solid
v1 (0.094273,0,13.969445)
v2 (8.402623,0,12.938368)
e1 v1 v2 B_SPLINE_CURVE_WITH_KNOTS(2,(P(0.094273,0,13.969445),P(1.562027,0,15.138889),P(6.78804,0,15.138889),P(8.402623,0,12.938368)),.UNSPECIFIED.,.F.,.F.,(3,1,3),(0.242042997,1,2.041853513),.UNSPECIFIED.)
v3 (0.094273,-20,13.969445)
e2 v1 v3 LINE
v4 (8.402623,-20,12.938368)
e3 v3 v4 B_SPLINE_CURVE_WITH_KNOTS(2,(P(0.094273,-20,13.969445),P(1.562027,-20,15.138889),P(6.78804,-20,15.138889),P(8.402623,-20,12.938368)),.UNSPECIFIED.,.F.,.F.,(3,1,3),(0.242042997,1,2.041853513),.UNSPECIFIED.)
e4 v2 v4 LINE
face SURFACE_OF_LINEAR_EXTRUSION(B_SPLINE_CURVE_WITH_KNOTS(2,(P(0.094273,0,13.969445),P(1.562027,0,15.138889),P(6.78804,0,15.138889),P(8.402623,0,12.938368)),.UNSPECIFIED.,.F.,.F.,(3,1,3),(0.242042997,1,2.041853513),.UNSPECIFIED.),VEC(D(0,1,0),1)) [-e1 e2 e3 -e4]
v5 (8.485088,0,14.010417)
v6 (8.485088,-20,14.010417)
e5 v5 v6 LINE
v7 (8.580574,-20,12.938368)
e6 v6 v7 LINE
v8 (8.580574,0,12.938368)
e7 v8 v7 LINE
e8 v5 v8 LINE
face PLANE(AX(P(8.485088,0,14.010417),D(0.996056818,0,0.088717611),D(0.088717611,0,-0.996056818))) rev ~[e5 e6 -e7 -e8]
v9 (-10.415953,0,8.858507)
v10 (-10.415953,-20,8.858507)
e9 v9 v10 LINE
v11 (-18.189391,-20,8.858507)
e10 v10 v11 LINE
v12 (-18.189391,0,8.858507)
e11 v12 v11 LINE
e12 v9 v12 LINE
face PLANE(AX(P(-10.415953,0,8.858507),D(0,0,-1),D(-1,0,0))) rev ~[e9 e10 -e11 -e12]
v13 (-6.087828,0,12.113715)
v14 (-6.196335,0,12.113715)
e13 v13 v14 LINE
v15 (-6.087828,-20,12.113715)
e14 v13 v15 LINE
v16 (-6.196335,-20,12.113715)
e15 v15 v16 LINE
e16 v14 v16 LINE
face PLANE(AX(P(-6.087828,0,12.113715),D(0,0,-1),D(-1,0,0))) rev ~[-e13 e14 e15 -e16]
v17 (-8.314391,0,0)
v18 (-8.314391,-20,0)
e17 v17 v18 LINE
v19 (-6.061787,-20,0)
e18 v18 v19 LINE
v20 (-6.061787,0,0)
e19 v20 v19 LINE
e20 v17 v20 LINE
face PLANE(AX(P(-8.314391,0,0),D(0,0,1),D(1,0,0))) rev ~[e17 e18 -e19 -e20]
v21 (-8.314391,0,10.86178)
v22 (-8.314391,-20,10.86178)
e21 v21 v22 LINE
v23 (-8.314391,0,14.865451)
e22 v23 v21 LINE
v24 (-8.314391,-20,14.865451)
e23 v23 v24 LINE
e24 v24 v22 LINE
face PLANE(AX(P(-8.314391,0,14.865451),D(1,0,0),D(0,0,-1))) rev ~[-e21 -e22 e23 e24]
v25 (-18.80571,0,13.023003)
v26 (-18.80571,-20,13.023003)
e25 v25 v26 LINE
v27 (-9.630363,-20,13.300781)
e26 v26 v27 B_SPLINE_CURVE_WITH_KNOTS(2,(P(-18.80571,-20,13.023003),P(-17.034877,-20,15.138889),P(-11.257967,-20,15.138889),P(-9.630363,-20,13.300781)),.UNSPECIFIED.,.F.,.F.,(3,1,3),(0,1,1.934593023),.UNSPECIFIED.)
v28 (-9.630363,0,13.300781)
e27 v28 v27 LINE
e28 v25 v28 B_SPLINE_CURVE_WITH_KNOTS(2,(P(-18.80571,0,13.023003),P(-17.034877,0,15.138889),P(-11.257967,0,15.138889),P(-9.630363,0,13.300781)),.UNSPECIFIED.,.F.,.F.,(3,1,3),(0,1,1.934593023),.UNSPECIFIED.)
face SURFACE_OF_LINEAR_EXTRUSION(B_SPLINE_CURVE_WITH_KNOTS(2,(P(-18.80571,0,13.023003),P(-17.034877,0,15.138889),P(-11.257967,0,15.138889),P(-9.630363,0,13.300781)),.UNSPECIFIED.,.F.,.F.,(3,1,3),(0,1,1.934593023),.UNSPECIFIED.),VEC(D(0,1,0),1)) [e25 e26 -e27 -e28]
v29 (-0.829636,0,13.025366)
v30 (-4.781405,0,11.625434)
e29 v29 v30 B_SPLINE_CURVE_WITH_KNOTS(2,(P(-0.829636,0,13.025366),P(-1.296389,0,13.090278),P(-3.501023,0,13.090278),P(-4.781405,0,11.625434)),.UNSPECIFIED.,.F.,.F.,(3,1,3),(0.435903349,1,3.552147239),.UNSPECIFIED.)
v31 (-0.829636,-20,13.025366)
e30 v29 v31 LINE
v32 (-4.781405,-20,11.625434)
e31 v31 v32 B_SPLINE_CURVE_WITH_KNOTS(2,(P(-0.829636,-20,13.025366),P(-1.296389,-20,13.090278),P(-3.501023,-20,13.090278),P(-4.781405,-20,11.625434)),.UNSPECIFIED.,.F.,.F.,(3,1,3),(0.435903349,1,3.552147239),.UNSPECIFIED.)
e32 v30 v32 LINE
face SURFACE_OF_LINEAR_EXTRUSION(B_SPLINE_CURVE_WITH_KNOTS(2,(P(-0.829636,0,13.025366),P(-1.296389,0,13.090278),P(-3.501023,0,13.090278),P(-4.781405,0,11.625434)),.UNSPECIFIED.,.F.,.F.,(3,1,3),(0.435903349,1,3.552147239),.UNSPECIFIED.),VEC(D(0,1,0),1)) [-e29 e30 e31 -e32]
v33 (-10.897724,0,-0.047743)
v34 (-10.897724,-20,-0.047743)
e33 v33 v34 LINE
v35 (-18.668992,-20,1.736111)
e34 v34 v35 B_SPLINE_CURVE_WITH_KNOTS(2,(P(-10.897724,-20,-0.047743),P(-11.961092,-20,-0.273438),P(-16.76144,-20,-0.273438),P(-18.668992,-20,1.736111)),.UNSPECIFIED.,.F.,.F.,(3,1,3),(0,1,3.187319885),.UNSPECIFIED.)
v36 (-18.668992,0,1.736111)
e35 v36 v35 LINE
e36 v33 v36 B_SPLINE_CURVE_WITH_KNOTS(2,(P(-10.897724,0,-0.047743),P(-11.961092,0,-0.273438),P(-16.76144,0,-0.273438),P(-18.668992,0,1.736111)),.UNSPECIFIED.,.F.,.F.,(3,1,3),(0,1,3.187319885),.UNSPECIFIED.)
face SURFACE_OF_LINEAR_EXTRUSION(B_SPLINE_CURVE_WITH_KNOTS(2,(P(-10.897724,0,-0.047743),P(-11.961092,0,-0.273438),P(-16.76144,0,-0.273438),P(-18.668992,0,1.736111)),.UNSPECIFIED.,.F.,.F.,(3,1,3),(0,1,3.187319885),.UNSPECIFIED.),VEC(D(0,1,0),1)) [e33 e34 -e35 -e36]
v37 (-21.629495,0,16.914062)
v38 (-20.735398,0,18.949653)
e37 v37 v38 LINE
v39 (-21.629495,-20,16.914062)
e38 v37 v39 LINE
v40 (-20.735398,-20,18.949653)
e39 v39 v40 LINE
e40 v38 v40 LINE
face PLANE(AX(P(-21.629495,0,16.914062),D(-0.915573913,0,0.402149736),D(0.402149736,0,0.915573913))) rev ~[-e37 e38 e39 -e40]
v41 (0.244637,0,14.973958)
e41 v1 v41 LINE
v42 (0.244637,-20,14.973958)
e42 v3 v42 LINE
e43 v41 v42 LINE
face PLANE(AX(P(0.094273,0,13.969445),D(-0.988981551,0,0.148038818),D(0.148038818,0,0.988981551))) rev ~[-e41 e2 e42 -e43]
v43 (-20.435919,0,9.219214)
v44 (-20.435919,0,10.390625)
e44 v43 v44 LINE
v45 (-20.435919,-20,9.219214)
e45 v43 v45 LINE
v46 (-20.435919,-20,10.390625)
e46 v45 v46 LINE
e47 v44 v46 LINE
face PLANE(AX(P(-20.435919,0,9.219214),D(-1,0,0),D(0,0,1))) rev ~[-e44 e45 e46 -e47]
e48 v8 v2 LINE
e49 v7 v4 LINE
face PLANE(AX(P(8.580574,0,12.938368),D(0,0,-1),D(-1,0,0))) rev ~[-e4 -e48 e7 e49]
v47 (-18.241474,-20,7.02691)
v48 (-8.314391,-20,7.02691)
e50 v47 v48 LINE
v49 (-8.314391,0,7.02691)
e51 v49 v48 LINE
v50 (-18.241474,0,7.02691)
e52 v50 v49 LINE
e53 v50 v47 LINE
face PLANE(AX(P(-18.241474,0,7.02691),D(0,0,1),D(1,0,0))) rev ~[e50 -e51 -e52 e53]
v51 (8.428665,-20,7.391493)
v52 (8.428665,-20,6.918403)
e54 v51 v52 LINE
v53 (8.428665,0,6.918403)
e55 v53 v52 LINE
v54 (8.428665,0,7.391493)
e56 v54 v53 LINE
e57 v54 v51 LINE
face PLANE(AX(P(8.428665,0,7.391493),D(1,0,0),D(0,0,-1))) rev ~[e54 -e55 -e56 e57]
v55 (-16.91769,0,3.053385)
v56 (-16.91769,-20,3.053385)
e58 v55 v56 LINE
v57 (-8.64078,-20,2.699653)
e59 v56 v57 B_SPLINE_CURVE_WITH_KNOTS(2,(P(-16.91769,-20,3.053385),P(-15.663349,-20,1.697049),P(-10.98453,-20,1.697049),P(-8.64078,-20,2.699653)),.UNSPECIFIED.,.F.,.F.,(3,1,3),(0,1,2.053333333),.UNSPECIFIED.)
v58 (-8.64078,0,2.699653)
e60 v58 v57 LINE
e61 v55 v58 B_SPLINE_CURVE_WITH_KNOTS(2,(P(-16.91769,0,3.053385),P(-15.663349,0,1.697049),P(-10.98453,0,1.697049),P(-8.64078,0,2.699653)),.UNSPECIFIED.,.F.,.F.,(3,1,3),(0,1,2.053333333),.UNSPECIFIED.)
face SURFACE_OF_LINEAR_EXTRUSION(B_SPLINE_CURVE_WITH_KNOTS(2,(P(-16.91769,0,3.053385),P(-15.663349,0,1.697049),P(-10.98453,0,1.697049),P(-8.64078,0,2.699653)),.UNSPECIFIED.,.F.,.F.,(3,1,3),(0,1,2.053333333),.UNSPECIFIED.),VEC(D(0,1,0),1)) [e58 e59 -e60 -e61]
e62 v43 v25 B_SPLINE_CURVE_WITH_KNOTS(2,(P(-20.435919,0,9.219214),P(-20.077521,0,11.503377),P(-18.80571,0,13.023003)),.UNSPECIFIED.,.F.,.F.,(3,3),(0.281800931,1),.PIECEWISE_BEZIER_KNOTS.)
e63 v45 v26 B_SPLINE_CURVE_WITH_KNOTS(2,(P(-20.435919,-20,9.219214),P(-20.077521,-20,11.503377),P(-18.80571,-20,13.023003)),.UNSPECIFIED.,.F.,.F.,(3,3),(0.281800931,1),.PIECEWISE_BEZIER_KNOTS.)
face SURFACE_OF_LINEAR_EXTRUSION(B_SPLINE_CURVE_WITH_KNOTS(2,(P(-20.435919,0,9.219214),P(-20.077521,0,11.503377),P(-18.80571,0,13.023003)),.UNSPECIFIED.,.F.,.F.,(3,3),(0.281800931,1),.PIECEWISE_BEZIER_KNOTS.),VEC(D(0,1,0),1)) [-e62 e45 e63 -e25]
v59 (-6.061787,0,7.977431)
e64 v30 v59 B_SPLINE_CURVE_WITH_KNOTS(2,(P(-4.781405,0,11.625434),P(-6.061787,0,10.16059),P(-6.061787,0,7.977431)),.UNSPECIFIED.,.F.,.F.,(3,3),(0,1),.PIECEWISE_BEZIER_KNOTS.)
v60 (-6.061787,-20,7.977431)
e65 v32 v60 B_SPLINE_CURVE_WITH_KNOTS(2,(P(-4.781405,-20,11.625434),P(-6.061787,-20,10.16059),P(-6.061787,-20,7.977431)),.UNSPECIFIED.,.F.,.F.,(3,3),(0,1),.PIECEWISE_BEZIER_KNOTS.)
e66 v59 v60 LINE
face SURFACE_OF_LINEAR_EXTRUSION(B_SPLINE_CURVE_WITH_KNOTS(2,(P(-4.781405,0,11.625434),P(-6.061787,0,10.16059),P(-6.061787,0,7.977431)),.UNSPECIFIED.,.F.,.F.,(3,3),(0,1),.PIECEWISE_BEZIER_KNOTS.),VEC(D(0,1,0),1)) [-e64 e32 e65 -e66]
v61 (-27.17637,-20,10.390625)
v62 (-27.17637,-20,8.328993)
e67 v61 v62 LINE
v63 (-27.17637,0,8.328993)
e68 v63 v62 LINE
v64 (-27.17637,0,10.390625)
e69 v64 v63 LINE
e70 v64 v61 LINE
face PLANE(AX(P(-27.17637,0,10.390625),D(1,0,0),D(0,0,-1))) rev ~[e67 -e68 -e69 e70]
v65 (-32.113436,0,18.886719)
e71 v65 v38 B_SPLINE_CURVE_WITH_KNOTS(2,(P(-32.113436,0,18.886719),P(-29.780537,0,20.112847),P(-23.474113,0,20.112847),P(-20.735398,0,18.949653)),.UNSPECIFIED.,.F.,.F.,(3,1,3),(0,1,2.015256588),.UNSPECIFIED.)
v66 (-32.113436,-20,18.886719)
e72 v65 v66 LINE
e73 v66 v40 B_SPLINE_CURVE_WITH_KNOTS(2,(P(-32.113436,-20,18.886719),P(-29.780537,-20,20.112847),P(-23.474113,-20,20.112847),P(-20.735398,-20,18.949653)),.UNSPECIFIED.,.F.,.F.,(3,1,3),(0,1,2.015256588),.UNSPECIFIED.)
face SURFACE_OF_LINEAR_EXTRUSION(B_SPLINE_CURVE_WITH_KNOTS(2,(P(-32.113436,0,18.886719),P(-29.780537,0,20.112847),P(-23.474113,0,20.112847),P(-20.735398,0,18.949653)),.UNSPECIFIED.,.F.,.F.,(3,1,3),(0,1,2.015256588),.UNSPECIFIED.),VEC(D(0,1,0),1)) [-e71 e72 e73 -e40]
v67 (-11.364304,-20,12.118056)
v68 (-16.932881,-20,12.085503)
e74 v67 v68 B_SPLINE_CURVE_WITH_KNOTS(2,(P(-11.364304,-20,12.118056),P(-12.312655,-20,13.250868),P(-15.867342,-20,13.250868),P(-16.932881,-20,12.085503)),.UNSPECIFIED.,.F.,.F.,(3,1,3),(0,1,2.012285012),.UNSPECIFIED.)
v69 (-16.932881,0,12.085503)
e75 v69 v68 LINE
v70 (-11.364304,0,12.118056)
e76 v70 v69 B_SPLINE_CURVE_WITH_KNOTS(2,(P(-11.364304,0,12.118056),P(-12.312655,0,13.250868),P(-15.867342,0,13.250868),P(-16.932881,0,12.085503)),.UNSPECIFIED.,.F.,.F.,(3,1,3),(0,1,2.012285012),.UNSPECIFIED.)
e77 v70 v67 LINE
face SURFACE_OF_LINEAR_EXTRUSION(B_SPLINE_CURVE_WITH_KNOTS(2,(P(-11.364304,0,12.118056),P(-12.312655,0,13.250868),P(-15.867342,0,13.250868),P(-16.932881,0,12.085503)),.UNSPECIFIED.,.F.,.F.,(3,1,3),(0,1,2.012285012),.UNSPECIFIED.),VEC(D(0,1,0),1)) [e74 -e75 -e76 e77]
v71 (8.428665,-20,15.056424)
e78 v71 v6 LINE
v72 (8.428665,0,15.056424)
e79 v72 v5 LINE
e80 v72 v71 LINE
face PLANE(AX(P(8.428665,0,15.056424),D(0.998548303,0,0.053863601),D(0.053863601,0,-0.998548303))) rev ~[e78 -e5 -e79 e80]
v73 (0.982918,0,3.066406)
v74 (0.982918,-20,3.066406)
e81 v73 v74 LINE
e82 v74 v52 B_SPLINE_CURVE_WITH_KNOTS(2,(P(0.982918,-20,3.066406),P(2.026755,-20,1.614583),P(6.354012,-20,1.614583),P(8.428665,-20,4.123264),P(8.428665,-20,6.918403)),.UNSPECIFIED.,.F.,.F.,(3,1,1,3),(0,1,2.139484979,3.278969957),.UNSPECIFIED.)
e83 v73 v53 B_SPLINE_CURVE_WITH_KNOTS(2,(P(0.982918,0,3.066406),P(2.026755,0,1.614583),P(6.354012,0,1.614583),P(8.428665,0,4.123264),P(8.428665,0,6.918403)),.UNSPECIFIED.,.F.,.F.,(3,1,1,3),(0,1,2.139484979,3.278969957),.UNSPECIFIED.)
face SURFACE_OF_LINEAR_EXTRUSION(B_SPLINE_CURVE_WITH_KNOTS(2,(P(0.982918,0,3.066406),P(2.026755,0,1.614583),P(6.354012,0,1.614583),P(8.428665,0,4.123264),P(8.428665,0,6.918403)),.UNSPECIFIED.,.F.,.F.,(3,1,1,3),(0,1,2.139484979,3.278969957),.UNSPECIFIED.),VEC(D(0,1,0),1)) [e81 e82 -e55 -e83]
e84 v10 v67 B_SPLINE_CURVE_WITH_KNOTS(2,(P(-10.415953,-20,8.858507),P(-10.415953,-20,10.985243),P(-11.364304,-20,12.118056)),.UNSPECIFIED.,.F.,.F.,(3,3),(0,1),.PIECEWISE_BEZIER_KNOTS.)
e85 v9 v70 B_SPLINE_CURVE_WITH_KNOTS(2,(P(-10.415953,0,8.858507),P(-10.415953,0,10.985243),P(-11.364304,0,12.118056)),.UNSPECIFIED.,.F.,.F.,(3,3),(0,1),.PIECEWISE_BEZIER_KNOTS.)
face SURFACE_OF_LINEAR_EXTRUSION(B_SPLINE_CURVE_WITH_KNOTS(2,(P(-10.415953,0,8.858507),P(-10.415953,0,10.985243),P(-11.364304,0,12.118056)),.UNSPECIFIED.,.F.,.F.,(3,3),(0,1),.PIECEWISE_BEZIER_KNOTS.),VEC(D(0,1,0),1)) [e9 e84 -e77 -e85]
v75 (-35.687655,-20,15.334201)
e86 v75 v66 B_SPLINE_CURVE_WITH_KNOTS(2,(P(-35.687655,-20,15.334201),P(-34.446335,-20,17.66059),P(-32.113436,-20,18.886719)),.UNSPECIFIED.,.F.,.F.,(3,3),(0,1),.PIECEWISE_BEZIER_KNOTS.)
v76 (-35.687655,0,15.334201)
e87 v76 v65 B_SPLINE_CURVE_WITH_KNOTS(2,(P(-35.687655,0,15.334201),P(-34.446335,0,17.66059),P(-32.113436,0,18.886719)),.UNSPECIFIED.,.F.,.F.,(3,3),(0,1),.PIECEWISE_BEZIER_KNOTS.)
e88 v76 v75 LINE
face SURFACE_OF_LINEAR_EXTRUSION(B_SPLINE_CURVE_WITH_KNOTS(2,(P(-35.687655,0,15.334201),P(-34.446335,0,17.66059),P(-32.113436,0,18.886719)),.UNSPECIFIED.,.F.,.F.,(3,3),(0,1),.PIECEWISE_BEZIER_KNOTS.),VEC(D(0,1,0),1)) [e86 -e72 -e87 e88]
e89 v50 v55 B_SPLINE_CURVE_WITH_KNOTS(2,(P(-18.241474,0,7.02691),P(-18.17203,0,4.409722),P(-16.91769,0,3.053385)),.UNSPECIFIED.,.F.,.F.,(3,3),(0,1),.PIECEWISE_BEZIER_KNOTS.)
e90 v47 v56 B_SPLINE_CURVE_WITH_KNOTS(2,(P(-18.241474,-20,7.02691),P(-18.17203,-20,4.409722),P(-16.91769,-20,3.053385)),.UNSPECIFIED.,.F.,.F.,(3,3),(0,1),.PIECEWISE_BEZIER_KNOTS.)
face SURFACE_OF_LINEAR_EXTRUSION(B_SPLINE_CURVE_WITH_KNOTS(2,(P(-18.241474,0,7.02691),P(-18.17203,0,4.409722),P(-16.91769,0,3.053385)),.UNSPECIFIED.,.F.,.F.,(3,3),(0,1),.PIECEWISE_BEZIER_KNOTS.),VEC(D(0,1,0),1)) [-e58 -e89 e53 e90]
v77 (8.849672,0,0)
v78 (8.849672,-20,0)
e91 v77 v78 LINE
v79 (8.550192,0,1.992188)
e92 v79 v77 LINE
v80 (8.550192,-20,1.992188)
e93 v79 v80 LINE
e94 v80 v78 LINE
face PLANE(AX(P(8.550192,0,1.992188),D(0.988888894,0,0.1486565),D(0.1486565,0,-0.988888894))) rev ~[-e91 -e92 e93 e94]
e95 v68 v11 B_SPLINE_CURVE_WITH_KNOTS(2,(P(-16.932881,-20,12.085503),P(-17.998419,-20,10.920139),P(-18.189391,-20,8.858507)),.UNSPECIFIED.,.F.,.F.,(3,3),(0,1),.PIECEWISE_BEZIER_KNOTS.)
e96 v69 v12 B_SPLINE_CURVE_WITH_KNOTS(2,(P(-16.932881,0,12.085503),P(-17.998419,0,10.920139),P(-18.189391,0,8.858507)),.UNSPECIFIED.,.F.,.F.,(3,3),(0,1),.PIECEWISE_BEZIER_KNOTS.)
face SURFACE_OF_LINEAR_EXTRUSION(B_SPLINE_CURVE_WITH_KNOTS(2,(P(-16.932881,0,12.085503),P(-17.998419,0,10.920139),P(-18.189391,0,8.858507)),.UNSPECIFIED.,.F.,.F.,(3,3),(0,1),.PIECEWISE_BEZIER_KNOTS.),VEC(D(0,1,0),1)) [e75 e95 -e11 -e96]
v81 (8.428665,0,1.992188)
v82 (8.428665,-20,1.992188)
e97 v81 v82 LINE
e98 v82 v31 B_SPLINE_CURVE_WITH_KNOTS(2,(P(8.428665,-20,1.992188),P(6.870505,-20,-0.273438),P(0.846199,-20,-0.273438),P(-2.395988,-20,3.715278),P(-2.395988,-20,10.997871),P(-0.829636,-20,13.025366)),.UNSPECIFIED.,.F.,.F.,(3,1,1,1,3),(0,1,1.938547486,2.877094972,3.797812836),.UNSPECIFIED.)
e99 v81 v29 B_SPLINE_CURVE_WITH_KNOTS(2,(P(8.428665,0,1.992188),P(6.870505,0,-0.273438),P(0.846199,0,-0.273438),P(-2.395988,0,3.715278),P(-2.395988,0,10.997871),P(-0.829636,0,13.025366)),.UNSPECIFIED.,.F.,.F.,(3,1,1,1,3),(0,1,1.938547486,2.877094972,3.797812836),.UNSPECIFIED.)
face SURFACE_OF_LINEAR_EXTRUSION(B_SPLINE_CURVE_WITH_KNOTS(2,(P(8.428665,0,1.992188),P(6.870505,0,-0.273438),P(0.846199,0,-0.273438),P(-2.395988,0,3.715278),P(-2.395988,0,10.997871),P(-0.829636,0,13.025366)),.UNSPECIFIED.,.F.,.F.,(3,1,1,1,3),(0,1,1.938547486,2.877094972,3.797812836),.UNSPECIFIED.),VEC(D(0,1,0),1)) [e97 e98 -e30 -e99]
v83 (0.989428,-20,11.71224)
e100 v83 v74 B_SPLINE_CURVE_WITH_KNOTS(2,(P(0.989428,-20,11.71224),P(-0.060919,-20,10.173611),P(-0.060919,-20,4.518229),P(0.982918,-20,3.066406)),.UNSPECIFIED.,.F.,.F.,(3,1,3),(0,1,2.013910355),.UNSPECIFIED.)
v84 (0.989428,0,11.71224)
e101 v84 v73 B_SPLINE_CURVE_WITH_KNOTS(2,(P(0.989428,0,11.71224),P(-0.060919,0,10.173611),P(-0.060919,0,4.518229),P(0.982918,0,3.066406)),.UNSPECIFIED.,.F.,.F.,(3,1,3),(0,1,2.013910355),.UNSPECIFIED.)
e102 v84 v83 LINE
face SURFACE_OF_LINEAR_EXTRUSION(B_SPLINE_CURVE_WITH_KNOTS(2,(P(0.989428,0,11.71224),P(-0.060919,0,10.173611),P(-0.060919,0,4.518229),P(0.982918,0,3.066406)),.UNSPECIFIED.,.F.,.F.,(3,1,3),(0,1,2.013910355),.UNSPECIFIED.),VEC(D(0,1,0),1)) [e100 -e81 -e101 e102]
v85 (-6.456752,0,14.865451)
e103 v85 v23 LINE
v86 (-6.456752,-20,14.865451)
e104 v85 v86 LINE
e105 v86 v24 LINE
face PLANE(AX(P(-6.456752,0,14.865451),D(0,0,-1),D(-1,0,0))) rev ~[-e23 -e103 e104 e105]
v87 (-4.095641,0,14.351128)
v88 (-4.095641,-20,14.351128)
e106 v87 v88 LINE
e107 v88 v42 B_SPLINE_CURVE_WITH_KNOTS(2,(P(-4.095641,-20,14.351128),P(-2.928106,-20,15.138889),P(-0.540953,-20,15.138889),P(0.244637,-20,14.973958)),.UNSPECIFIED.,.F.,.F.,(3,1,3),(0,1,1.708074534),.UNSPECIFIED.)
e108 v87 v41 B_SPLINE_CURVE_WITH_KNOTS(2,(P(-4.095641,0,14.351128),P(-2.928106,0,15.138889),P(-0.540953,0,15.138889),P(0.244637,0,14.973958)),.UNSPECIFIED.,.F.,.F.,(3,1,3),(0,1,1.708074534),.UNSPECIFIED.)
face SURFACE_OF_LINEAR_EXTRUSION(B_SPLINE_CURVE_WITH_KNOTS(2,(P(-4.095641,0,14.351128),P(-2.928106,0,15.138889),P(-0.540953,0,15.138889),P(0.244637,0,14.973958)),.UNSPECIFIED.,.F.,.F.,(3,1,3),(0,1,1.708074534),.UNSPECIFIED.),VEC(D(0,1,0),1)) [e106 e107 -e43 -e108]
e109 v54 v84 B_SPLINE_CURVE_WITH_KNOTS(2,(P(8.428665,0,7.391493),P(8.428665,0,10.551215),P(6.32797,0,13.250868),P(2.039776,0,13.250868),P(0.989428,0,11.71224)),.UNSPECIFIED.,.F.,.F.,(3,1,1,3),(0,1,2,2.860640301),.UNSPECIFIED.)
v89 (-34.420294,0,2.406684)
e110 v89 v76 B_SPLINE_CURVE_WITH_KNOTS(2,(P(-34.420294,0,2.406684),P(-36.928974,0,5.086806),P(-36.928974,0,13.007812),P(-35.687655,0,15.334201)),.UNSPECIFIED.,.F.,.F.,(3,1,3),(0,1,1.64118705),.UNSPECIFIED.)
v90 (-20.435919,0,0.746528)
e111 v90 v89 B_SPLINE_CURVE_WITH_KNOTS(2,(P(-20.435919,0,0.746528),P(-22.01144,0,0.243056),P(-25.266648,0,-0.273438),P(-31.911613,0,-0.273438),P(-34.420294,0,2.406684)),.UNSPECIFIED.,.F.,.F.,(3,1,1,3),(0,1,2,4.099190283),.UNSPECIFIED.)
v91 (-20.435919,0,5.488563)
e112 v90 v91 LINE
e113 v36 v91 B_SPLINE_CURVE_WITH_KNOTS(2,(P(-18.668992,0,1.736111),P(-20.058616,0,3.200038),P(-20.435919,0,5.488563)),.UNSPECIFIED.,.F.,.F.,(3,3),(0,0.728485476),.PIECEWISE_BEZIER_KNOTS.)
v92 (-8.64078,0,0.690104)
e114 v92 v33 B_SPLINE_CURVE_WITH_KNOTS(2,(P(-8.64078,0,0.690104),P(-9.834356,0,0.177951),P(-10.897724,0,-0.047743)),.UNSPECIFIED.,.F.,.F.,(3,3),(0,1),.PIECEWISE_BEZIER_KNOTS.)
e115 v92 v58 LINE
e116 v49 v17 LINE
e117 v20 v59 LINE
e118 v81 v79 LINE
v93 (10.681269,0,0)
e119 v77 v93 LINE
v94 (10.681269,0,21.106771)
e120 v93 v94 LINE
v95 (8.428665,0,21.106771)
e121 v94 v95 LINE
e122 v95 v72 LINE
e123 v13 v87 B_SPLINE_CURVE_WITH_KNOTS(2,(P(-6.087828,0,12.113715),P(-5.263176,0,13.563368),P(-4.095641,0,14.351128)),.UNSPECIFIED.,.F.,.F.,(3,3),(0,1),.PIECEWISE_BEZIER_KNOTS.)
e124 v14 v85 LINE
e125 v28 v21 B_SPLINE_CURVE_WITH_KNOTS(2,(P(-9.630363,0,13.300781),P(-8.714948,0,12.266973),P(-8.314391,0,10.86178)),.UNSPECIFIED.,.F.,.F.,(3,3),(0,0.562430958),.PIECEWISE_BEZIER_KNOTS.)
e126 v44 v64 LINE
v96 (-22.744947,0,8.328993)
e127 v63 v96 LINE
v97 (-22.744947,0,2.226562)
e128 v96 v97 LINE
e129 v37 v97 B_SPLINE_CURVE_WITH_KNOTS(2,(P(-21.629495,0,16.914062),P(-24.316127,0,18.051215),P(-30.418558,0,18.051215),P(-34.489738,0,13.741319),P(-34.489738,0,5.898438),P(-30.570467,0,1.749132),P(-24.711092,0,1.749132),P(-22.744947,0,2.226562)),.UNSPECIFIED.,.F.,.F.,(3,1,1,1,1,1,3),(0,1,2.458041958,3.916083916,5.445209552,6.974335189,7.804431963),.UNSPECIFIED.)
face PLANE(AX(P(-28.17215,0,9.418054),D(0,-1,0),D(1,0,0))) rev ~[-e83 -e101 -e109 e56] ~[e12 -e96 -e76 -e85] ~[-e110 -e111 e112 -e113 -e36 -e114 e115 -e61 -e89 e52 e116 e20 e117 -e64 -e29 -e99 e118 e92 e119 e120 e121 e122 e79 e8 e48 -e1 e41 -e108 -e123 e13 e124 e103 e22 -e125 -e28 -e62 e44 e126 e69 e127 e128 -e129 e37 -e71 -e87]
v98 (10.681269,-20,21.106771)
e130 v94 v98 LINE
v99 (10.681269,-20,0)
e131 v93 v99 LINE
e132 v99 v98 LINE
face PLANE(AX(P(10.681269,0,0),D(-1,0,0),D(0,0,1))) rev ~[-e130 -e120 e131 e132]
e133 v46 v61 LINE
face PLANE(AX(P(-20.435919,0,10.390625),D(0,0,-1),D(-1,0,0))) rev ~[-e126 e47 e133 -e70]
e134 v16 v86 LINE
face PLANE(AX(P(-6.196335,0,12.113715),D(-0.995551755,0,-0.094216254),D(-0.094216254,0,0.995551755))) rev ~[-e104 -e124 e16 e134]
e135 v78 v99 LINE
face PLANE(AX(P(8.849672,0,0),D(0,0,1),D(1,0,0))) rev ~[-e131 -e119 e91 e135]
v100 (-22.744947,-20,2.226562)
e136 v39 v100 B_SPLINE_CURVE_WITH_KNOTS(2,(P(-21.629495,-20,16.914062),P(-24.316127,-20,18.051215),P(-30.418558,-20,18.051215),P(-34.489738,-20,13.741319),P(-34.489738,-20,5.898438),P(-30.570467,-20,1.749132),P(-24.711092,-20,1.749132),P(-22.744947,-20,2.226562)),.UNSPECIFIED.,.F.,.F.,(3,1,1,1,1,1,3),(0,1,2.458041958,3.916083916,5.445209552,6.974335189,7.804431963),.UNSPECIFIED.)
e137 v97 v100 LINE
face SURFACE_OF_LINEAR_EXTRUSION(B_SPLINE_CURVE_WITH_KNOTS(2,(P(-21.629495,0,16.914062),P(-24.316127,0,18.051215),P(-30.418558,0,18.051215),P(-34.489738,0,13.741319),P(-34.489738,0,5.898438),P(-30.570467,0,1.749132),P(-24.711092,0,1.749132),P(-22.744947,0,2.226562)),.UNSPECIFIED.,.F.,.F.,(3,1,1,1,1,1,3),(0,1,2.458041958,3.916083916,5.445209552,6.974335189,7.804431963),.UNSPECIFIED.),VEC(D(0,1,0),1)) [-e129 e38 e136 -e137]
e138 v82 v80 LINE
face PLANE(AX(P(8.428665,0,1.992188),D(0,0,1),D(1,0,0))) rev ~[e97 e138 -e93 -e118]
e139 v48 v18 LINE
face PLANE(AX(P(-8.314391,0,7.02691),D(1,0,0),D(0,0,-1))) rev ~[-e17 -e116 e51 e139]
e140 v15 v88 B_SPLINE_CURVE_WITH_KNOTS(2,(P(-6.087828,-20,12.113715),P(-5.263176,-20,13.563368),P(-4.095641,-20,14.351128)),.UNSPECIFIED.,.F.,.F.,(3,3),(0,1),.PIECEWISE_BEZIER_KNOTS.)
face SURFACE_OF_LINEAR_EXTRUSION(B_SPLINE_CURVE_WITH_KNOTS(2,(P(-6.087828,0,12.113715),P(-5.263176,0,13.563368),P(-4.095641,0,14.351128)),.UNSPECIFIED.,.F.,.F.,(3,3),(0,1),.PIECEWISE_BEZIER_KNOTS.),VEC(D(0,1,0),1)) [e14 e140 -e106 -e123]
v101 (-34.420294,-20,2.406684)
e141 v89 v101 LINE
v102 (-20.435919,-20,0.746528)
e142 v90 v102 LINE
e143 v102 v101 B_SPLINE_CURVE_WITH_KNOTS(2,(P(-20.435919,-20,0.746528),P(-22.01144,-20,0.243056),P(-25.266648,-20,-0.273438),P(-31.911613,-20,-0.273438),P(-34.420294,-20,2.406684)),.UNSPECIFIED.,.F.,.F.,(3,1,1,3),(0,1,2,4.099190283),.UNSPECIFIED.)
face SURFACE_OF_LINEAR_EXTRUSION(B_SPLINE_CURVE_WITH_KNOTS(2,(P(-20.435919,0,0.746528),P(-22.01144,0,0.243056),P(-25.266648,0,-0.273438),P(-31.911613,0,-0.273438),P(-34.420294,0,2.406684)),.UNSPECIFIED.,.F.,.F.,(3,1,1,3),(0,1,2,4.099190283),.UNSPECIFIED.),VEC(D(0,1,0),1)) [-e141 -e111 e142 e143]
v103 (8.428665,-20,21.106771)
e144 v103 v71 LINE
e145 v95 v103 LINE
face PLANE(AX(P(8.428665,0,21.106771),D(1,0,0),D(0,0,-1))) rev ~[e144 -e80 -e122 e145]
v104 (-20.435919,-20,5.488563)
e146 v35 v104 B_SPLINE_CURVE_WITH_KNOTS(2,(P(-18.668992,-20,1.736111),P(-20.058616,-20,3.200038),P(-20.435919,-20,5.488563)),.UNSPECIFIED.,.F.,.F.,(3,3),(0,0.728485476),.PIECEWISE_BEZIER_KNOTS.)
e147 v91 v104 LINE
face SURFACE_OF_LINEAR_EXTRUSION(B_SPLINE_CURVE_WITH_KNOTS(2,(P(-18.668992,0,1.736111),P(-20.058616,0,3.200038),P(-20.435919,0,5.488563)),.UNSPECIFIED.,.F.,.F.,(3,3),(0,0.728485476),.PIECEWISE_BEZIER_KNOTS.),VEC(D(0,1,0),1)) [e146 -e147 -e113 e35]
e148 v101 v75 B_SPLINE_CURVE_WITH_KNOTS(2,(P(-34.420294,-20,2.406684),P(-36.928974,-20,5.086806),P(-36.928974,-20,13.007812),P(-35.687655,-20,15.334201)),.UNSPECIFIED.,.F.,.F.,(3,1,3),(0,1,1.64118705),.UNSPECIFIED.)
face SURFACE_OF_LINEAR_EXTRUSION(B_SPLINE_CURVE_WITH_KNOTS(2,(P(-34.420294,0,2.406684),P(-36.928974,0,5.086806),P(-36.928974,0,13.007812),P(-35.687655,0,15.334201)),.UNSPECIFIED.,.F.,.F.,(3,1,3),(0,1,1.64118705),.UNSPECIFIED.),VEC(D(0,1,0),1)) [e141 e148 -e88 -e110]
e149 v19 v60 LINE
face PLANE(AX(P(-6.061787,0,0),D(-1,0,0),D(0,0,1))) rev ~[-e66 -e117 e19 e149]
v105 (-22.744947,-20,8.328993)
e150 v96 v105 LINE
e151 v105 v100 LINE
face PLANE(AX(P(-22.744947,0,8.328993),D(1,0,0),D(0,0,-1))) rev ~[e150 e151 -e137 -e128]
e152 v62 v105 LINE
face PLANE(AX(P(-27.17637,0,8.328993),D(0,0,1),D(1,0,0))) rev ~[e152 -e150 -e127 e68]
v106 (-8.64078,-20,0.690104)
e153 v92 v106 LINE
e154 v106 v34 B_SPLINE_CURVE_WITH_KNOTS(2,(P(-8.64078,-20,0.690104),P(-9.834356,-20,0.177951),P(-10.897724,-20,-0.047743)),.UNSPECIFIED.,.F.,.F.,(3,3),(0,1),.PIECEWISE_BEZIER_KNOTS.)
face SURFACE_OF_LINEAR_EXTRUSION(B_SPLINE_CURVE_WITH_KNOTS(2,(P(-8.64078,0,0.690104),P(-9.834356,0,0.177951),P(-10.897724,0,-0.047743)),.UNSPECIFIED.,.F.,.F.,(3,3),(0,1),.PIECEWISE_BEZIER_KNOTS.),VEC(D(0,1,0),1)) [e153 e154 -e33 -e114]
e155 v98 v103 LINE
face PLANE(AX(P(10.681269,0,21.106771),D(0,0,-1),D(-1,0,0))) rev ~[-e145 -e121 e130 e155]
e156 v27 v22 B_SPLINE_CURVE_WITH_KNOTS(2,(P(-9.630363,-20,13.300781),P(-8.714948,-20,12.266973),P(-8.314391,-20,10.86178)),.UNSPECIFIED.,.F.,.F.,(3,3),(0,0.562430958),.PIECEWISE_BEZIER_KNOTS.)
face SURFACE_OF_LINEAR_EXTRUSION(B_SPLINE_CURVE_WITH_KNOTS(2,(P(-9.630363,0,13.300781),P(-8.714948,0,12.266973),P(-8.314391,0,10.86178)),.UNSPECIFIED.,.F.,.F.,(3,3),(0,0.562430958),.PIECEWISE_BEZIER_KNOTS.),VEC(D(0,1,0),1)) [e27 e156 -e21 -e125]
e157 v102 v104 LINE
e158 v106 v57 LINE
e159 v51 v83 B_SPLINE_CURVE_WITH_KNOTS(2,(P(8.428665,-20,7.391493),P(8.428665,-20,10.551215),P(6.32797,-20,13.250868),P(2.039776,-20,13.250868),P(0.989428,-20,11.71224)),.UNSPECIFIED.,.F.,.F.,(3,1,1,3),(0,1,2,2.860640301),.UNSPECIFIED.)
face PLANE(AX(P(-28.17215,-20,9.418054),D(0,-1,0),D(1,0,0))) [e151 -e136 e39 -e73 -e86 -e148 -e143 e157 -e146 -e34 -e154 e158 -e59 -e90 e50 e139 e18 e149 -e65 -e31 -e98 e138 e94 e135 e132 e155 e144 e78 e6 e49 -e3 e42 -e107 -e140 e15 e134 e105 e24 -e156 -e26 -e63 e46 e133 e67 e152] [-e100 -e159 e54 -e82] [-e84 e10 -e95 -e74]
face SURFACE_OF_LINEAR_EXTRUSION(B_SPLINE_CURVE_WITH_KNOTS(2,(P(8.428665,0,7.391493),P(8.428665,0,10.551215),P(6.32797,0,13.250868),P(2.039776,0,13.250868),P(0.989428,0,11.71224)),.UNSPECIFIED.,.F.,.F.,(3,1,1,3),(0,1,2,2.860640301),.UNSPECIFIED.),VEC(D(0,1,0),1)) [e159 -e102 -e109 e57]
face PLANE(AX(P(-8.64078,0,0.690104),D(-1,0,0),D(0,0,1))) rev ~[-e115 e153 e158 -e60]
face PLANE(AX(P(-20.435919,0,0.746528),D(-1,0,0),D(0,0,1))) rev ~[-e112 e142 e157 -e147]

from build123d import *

# Parameters (mm, degrees)
F1_DEPTH = 20


with BuildPart() as f1:
    # F0 (on Front) → F1 (new body)
    with BuildSketch(Plane.XZ):
        with BuildLine():
            Line((-20.4359187527, 10.390625), (-27.1763701416, 10.390625))
            Line((-27.1763701416, 10.390625), (-27.1763701416, 8.3289930556))
            Line((-27.1763701416, 8.3289930556), (-22.7449465305, 8.3289930556))
            Line((-22.7449465305, 8.3289930556), (-22.7449465305, 2.2265625))
            add(Edge.make_bspline(
                [(-26.7727243083, 1.7491319444), (-24.7110923638, 1.7491319444), (-22.7449465305, 2.2265625)],
                knots=[0, 0, 0, 1, 1, 1], degree=2))
            add(Edge.make_bspline(
                [(-32.5301027805, 3.8237847222), (-30.5704673638, 1.7491319444), (-26.7727243083, 1.7491319444)],
                knots=[0, 0, 0, 1, 1, 1], degree=2))
            add(Edge.make_bspline(
                [(-34.4897381972, 9.9131944444), (-34.4897381972, 5.8984375), (-32.5301027805, 3.8237847222)],
                knots=[0, 0, 0, 1, 1, 1], degree=2))
            add(Edge.make_bspline(
                [(-32.4541479194, 15.8962673611), (-34.4897381972, 13.7413194444), (-34.4897381972, 9.9131944444)],
                knots=[0, 0, 0, 1, 1, 1], degree=2))
            add(Edge.make_bspline(
                [(-26.7987659749, 18.0512152778), (-30.4185576416, 18.0512152778), (-32.4541479194, 15.8962673611)],
                knots=[0, 0, 0, 1, 1, 1], degree=2))
            add(Edge.make_bspline(
                [(-21.6294951416, 16.9140625), (-24.316127086, 18.0512152778), (-26.7987659749, 18.0512152778)],
                knots=[0, 0, 0, 1, 1, 1], degree=2))
            Line((-21.6294951416, 16.9140625), (-20.7353979194, 18.9496527778))
            add(Edge.make_bspline(
                [(-26.6511965305, 20.1128472222), (-23.4741131972, 20.1128472222), (-20.7353979194, 18.9496527778)],
                knots=[0, 0, 0, 1, 1, 1], degree=2))
            add(Edge.make_bspline(
                [(-32.1134361138, 18.88671875), (-29.7805368083, 20.1128472222), (-26.6511965305, 20.1128472222)],
                knots=[0, 0, 0, 1, 1, 1], degree=2))
            add(Edge.make_bspline(
                [(-35.6876548638, 15.3342013889), (-34.4463354194, 17.6605902778), (-32.1134361138, 18.88671875)],
                knots=[0, 0, 0, 1, 1, 1], degree=2))
            add(Edge.make_bspline(
                [(-36.9289743083, 9.9131944444), (-36.9289743083, 13.0078125), (-35.6876548638, 15.3342013889)],
                knots=[0, 0, 0, 1, 1, 1], degree=2))
            add(Edge.make_bspline(
                [(-34.4202937527, 2.4066840278), (-36.9289743083, 5.0868055556), (-36.9289743083, 9.9131944444)],
                knots=[0, 0, 0, 1, 1, 1], degree=2))
            add(Edge.make_bspline(
                [(-27.4107451416, -0.2734375), (-31.9116131972, -0.2734375), (-34.4202937527, 2.4066840278)],
                knots=[0, 0, 0, 1, 1, 1], degree=2))
            add(Edge.make_bspline(
                [(-23.6390437527, -0.0151909722), (-25.2666479194, -0.2734375), (-27.4107451416, -0.2734375)],
                knots=[0, 0, 0, 1, 1, 1], degree=2))
            add(Edge.make_bspline(
                [(-20.4359187527, 0.7465277778), (-22.011439586, 0.2430555556), (-23.6390437527, -0.0151909722)],
                knots=[0, 0, 0, 1, 1, 1], degree=2))
            Line((-20.4359187527, 0.7465277778), (-20.4359187527, 5.4885631994))
            add(Edge.make_bspline(
                [(-20.4359187527, 5.4885631994), (-20.5765437527, 6.3415215978), (-20.5765437527, 7.3090277778)],
                knots=[0.7284854764, 0.7284854764, 0.7284854764, 1, 1, 1], degree=2))
            add(Edge.make_bspline(
                [(-20.5765437527, 7.3090277778), (-20.5765437527, 8.3229729678), (-20.4359187527, 9.2192136542)],
                knots=[0, 0, 0, 0.281800931, 0.281800931, 0.281800931], degree=2))
            Line((-20.4359187527, 9.2192136542), (-20.4359187527, 10.390625))
        make_face()
        with BuildLine():
            add(Edge.make_bspline(
                [(-20.4359187527, 9.2192136542), (-20.0775212708, 11.5033765358), (-18.8057104194, 13.0230034722)],
                knots=[0.281800931, 0.281800931, 0.281800931, 1, 1, 1], degree=2))
            Line((-20.4359187527, 9.2192136542), (-20.4359187527, 5.4885631994))
            add(Edge.make_bspline(
                [(-18.6689916694, 1.7361111111), (-20.0586156576, 3.2000380885), (-20.4359187527, 5.4885631994)],
                knots=[0, 0, 0, 0.7284854764, 0.7284854764, 0.7284854764], degree=2))
            add(Edge.make_bspline(
                [(-13.4671687527, -0.2734375), (-16.761439586, -0.2734375), (-18.6689916694, 1.7361111111)],
                knots=[0, 0, 0, 1, 1, 1], degree=2))
            add(Edge.make_bspline(
                [(-10.8977243083, -0.0477430556), (-11.9610923638, -0.2734375), (-13.4671687527, -0.2734375)],
                knots=[0, 0, 0, 1, 1, 1], degree=2))
            add(Edge.make_bspline(
                [(-8.6407798638, 0.6901041667), (-9.8343562527, 0.1779513889), (-10.8977243083, -0.0477430556)],
                knots=[0, 0, 0, 1, 1, 1], degree=2))
            Line((-8.6407798638, 0.6901041667), (-8.6407798638, 2.6996527778))
            add(Edge.make_bspline(
                [(-13.3847034749, 1.6970486111), (-10.9845298638, 1.6970486111), (-8.6407798638, 2.6996527778)],
                knots=[0, 0, 0, 1, 1, 1], degree=2))
            add(Edge.make_bspline(
                [(-16.917689586, 3.0533854167), (-15.6633493083, 1.6970486111), (-13.3847034749, 1.6970486111)],
                knots=[0, 0, 0, 1, 1, 1], degree=2))
            add(Edge.make_bspline(
                [(-18.2414743083, 7.0269097222), (-18.1720298638, 4.4097222222), (-16.917689586, 3.0533854167)],
                knots=[0, 0, 0, 1, 1, 1], degree=2))
            Line((-18.2414743083, 7.0269097222), (-8.3143909749, 7.0269097222))
            Line((-8.3143909749, 7.0269097222), (-8.3143909749, 10.8617799358))
            add(Edge.make_bspline(
                [(-9.6303631972, 13.30078125), (-8.7149482267, 12.2669726101), (-8.3143909749, 10.8617799358)],
                knots=[0, 0, 0, 0.5624309578, 0.5624309578, 0.5624309578], degree=2))
            add(Edge.make_bspline(
                [(-14.0487659749, 15.1388888889), (-11.2579673638, 15.1388888889), (-9.6303631972, 13.30078125)],
                knots=[0, 0, 0, 1, 1, 1], degree=2))
            add(Edge.make_bspline(
                [(-18.8057104194, 13.0230034722), (-17.034877086, 15.1388888889), (-14.0487659749, 15.1388888889)],
                knots=[0, 0, 0, 1, 1, 1], degree=2))
        make_face()
        with BuildLine():
            add(Edge.make_bspline(
                [(-14.0791479194, 13.2508680556), (-15.8673423638, 13.2508680556), (-16.9328805583, 12.0855034722)],
                knots=[0, 0, 0, 1, 1, 1], degree=2))
            add(Edge.make_bspline(
                [(-11.3643041694, 12.1180555556), (-12.3126548638, 13.2508680556), (-14.0791479194, 13.2508680556)],
                knots=[0, 0, 0, 1, 1, 1], degree=2))
            add(Edge.make_bspline(
                [(-10.4159534749, 8.8585069444), (-10.4159534749, 10.9852430556), (-11.3643041694, 12.1180555556)],
                knots=[0, 0, 0, 1, 1, 1], degree=2))
            Line((-10.4159534749, 8.8585069444), (-18.1893909749, 8.8585069444))
            add(Edge.make_bspline(
                [(-16.9328805583, 12.0855034722), (-17.9984187527, 10.9201388889), (-18.1893909749, 8.8585069444)],
                knots=[0, 0, 0, 1, 1, 1], degree=2))
        make_face(mode=Mode.SUBTRACT)
        with BuildLine():
            Line((-20.4359187527, 5.4885631994), (-20.4359187527, 9.2192136542))
            add(Edge.make_bspline(
                [(-20.5765437527, 7.3090277778), (-20.5765437527, 8.3229729678), (-20.4359187527, 9.2192136542)],
                knots=[0, 0, 0, 0.281800931, 0.281800931, 0.281800931], degree=2))
            add(Edge.make_bspline(
                [(-20.4359187527, 5.4885631994), (-20.5765437527, 6.3415215978), (-20.5765437527, 7.3090277778)],
                knots=[0.7284854764, 0.7284854764, 0.7284854764, 1, 1, 1], degree=2))
        make_face()
        with BuildLine():
            Line((-8.3143909749, 14.8654513889), (-8.3143909749, 10.8617799358))
            add(Edge.make_bspline(
                [(-8.3143909749, 10.8617799358), (-8.0027590305, 9.7685456392), (-8.0027590305, 8.4505208333)],
                knots=[0.5624309578, 0.5624309578, 0.5624309578, 1, 1, 1], degree=2))
            Line((-8.0027590305, 8.4505208333), (-8.0027590305, 7.0269097222))
            Line((-8.0027590305, 7.0269097222), (-8.3143909749, 7.0269097222))
            Line((-8.3143909749, 7.0269097222), (-8.3143909749, 0))
            Line((-8.3143909749, 0), (-6.0617868083, 0))
            Line((-6.0617868083, 0), (-6.0617868083, 7.9774305556))
            add(Edge.make_bspline(
                [(-4.7814048638, 11.6254340278), (-6.0617868083, 10.1605902778), (-6.0617868083, 7.9774305556)],
                knots=[0, 0, 0, 1, 1, 1], degree=2))
            add(Edge.make_bspline(
                [(-1.6954673638, 13.0902777778), (-3.5010229194, 13.0902777778), (-4.7814048638, 11.6254340278)],
                knots=[0, 0, 0, 1, 1, 1], degree=2))
            add(Edge.make_bspline(
                [(-0.8296359629, 13.0253661611), (-1.2963885699, 13.0902777778), (-1.6954673638, 13.0902777778)],
                knots=[0.435903349, 0.435903349, 0.435903349, 1, 1, 1], degree=2))
            add(Edge.make_bspline(
                [(-0.8296359629, 13.0253661611), (-0.7993036876, 13.0646284266), (-0.7683840305, 13.1032986111)],
                knots=[0.9810029626, 0.9810029626, 0.9810029626, 1, 1, 1], degree=2))
            add(Edge.make_bspline(
                [(-0.7683840305, 13.1032986111), (-0.3744338397, 13.595998983), (0.0942730128, 13.9694446802)],
                knots=[0, 0, 0, 0.2420429972, 0.2420429972, 0.2420429972], degree=2))
            Line((0.0942730128, 13.9694446802), (0.2446368028, 14.9739583333))
            add(Edge.make_bspline(
                [(-1.5305368083, 15.1388888889), (-0.5409534749, 15.1388888889), (0.2446368028, 14.9739583333)],
                knots=[0, 0, 0, 1, 1, 1], degree=2))
            add(Edge.make_bspline(
                [(-4.0956409749, 14.3511284722), (-2.9281062527, 15.1388888889), (-1.5305368083, 15.1388888889)],
                knots=[0, 0, 0, 1, 1, 1], degree=2))
            add(Edge.make_bspline(
                [(-6.0878284749, 12.1137152778), (-5.2631756972, 13.5633680556), (-4.0956409749, 14.3511284722)],
                knots=[0, 0, 0, 1, 1, 1], degree=2))
            Line((-6.0878284749, 12.1137152778), (-6.1963354194, 12.1137152778))
            Line((-6.1963354194, 12.1137152778), (-6.456752086, 14.8654513889))
            Line((-6.456752086, 14.8654513889), (-8.3143909749, 14.8654513889))
        make_face()
        with BuildLine():
            add(Edge.make_bspline(
                [(-8.3143909749, 10.8617799358), (-8.0027590305, 9.7685456392), (-8.0027590305, 8.4505208333)],
                knots=[0.5624309578, 0.5624309578, 0.5624309578, 1, 1, 1], degree=2))
            Line((-8.3143909749, 10.8617799358), (-8.3143909749, 7.0269097222))
            Line((-8.3143909749, 7.0269097222), (-8.0027590305, 7.0269097222))
            Line((-8.0027590305, 7.0269097222), (-8.0027590305, 8.4505208333))
        make_face()
        with BuildLine():
            add(Edge.make_bspline(
                [(-0.8296359629, 13.0253661611), (-0.7993036876, 13.0646284266), (-0.7683840305, 13.1032986111)],
                knots=[0.9810029626, 0.9810029626, 0.9810029626, 1, 1, 1], degree=2))
            add(Edge.make_bspline(
                [(-0.0678631972, 12.8862847222), (-0.4689548204, 12.9752059783), (-0.8296359629, 13.0253661611)],
                knots=[0, 0, 0, 0.435903349, 0.435903349, 0.435903349], degree=2))
            Line((-0.0678631972, 12.8862847222), (0.0942730128, 13.9694446802))
            add(Edge.make_bspline(
                [(-0.7683840305, 13.1032986111), (-0.3744338397, 13.595998983), (0.0942730128, 13.9694446802)],
                knots=[0, 0, 0, 0.2420429972, 0.2420429972, 0.2420429972], degree=2))
        make_face()
        with BuildLine():
            add(Edge.make_bspline(
                [(-0.0678631972, 12.8862847222), (-0.4689548204, 12.9752059783), (-0.8296359629, 13.0253661611)],
                knots=[0, 0, 0, 0.435903349, 0.435903349, 0.435903349], degree=2))
            add(Edge.make_bspline(
                [(-2.3959881972, 7.3914930556), (-2.3959881972, 10.9978711344), (-0.8296359629, 13.0253661611)],
                knots=[0, 0, 0, 0.9810029626, 0.9810029626, 0.9810029626], degree=2))
            add(Edge.make_bspline(
                [(-0.7748944472, 1.7209201389), (-2.3959881972, 3.7152777778), (-2.3959881972, 7.3914930556)],
                knots=[0, 0, 0, 1, 1, 1], degree=2))
            add(Edge.make_bspline(
                [(3.7628659695, -0.2734375), (0.8461993028, -0.2734375), (-0.7748944472, 1.7209201389)],
                knots=[0, 0, 0, 1, 1, 1], degree=2))
            add(Edge.make_bspline(
                [(8.4286645806, 1.9921875), (6.8705048584, -0.2734375), (3.7628659695, -0.2734375)],
                knots=[0, 0, 0, 1, 1, 1], degree=2))
            Line((8.4286645806, 1.9921875), (8.5501923584, 1.9921875))
            Line((8.5501923584, 1.9921875), (8.8496715251, 0))
            Line((8.8496715251, 0), (10.6812687473, 0))
            Line((10.6812687473, 0), (10.6812687473, 21.1067708333))
            Line((10.6812687473, 21.1067708333), (8.4286645806, 21.1067708333))
            Line((8.4286645806, 21.1067708333), (8.4286645806, 15.0564236111))
            Line((8.4286645806, 15.0564236111), (8.4850881917, 14.0104166667))
            Line((8.4850881917, 14.0104166667), (8.5805743028, 12.9383680556))
            Line((8.5805743028, 12.9383680556), (8.402622914, 12.9383680556))
            add(Edge.make_bspline(
                [(3.7628659695, 15.1388888889), (6.7880395806, 15.1388888889), (8.402622914, 12.9383680556)],
                knots=[0, 0, 0, 1, 1, 1], degree=2))
            add(Edge.make_bspline(
                [(0.0942730128, 13.9694446802), (1.5620272765, 15.1388888889), (3.7628659695, 15.1388888889)],
                knots=[0.2420429972, 0.2420429972, 0.2420429972, 1, 1, 1], degree=2))
            Line((0.0942730128, 13.9694446802), (-0.0678631972, 12.8862847222))
        make_face()
        with BuildLine():
            add(Edge.make_bspline(
                [(4.0493243028, 1.6145833333), (6.3540118028, 1.6145833333), (7.3913381917, 2.8689236111)],
                knots=[0, 0, 0, 1, 1, 1], degree=2))
            add(Edge.make_bspline(
                [(0.9829180528, 3.06640625), (2.0267548584, 1.6145833333), (4.0493243028, 1.6145833333)],
                knots=[0, 0, 0, 1, 1, 1], degree=2))
            add(Edge.make_bspline(
                [(-0.0609187527, 7.3654513889), (-0.0609187527, 4.5182291667), (0.9829180528, 3.06640625)],
                knots=[0, 0, 0, 1, 1, 1], degree=2))
            add(Edge.make_bspline(
                [(0.9894284695, 11.7122395833), (-0.0609187527, 10.1736111111), (-0.0609187527, 7.3654513889)],
                knots=[0, 0, 0, 1, 1, 1], degree=2))
            add(Edge.make_bspline(
                [(4.0232826362, 13.2508680556), (2.0397756917, 13.2508680556), (0.9894284695, 11.7122395833)],
                knots=[0, 0, 0, 1, 1, 1], degree=2))
            add(Edge.make_bspline(
                [(7.3783173584, 11.9010416667), (6.3279701362, 13.2508680556), (4.0232826362, 13.2508680556)],
                knots=[0, 0, 0, 1, 1, 1], degree=2))
            add(Edge.make_bspline(
                [(8.4286645806, 7.3914930556), (8.4286645806, 10.5512152778), (7.3783173584, 11.9010416667)],
                knots=[0, 0, 0, 1, 1, 1], degree=2))
            Line((8.4286645806, 7.3914930556), (8.4286645806, 6.9184027778))
            add(Edge.make_bspline(
                [(7.3913381917, 2.8689236111), (8.4286645806, 4.1232638889), (8.4286645806, 6.9184027778)],
                knots=[0, 0, 0, 1, 1, 1], degree=2))
        make_face(mode=Mode.SUBTRACT)
    extrude(amount=F1_DEPTH)


solid = f1.part
